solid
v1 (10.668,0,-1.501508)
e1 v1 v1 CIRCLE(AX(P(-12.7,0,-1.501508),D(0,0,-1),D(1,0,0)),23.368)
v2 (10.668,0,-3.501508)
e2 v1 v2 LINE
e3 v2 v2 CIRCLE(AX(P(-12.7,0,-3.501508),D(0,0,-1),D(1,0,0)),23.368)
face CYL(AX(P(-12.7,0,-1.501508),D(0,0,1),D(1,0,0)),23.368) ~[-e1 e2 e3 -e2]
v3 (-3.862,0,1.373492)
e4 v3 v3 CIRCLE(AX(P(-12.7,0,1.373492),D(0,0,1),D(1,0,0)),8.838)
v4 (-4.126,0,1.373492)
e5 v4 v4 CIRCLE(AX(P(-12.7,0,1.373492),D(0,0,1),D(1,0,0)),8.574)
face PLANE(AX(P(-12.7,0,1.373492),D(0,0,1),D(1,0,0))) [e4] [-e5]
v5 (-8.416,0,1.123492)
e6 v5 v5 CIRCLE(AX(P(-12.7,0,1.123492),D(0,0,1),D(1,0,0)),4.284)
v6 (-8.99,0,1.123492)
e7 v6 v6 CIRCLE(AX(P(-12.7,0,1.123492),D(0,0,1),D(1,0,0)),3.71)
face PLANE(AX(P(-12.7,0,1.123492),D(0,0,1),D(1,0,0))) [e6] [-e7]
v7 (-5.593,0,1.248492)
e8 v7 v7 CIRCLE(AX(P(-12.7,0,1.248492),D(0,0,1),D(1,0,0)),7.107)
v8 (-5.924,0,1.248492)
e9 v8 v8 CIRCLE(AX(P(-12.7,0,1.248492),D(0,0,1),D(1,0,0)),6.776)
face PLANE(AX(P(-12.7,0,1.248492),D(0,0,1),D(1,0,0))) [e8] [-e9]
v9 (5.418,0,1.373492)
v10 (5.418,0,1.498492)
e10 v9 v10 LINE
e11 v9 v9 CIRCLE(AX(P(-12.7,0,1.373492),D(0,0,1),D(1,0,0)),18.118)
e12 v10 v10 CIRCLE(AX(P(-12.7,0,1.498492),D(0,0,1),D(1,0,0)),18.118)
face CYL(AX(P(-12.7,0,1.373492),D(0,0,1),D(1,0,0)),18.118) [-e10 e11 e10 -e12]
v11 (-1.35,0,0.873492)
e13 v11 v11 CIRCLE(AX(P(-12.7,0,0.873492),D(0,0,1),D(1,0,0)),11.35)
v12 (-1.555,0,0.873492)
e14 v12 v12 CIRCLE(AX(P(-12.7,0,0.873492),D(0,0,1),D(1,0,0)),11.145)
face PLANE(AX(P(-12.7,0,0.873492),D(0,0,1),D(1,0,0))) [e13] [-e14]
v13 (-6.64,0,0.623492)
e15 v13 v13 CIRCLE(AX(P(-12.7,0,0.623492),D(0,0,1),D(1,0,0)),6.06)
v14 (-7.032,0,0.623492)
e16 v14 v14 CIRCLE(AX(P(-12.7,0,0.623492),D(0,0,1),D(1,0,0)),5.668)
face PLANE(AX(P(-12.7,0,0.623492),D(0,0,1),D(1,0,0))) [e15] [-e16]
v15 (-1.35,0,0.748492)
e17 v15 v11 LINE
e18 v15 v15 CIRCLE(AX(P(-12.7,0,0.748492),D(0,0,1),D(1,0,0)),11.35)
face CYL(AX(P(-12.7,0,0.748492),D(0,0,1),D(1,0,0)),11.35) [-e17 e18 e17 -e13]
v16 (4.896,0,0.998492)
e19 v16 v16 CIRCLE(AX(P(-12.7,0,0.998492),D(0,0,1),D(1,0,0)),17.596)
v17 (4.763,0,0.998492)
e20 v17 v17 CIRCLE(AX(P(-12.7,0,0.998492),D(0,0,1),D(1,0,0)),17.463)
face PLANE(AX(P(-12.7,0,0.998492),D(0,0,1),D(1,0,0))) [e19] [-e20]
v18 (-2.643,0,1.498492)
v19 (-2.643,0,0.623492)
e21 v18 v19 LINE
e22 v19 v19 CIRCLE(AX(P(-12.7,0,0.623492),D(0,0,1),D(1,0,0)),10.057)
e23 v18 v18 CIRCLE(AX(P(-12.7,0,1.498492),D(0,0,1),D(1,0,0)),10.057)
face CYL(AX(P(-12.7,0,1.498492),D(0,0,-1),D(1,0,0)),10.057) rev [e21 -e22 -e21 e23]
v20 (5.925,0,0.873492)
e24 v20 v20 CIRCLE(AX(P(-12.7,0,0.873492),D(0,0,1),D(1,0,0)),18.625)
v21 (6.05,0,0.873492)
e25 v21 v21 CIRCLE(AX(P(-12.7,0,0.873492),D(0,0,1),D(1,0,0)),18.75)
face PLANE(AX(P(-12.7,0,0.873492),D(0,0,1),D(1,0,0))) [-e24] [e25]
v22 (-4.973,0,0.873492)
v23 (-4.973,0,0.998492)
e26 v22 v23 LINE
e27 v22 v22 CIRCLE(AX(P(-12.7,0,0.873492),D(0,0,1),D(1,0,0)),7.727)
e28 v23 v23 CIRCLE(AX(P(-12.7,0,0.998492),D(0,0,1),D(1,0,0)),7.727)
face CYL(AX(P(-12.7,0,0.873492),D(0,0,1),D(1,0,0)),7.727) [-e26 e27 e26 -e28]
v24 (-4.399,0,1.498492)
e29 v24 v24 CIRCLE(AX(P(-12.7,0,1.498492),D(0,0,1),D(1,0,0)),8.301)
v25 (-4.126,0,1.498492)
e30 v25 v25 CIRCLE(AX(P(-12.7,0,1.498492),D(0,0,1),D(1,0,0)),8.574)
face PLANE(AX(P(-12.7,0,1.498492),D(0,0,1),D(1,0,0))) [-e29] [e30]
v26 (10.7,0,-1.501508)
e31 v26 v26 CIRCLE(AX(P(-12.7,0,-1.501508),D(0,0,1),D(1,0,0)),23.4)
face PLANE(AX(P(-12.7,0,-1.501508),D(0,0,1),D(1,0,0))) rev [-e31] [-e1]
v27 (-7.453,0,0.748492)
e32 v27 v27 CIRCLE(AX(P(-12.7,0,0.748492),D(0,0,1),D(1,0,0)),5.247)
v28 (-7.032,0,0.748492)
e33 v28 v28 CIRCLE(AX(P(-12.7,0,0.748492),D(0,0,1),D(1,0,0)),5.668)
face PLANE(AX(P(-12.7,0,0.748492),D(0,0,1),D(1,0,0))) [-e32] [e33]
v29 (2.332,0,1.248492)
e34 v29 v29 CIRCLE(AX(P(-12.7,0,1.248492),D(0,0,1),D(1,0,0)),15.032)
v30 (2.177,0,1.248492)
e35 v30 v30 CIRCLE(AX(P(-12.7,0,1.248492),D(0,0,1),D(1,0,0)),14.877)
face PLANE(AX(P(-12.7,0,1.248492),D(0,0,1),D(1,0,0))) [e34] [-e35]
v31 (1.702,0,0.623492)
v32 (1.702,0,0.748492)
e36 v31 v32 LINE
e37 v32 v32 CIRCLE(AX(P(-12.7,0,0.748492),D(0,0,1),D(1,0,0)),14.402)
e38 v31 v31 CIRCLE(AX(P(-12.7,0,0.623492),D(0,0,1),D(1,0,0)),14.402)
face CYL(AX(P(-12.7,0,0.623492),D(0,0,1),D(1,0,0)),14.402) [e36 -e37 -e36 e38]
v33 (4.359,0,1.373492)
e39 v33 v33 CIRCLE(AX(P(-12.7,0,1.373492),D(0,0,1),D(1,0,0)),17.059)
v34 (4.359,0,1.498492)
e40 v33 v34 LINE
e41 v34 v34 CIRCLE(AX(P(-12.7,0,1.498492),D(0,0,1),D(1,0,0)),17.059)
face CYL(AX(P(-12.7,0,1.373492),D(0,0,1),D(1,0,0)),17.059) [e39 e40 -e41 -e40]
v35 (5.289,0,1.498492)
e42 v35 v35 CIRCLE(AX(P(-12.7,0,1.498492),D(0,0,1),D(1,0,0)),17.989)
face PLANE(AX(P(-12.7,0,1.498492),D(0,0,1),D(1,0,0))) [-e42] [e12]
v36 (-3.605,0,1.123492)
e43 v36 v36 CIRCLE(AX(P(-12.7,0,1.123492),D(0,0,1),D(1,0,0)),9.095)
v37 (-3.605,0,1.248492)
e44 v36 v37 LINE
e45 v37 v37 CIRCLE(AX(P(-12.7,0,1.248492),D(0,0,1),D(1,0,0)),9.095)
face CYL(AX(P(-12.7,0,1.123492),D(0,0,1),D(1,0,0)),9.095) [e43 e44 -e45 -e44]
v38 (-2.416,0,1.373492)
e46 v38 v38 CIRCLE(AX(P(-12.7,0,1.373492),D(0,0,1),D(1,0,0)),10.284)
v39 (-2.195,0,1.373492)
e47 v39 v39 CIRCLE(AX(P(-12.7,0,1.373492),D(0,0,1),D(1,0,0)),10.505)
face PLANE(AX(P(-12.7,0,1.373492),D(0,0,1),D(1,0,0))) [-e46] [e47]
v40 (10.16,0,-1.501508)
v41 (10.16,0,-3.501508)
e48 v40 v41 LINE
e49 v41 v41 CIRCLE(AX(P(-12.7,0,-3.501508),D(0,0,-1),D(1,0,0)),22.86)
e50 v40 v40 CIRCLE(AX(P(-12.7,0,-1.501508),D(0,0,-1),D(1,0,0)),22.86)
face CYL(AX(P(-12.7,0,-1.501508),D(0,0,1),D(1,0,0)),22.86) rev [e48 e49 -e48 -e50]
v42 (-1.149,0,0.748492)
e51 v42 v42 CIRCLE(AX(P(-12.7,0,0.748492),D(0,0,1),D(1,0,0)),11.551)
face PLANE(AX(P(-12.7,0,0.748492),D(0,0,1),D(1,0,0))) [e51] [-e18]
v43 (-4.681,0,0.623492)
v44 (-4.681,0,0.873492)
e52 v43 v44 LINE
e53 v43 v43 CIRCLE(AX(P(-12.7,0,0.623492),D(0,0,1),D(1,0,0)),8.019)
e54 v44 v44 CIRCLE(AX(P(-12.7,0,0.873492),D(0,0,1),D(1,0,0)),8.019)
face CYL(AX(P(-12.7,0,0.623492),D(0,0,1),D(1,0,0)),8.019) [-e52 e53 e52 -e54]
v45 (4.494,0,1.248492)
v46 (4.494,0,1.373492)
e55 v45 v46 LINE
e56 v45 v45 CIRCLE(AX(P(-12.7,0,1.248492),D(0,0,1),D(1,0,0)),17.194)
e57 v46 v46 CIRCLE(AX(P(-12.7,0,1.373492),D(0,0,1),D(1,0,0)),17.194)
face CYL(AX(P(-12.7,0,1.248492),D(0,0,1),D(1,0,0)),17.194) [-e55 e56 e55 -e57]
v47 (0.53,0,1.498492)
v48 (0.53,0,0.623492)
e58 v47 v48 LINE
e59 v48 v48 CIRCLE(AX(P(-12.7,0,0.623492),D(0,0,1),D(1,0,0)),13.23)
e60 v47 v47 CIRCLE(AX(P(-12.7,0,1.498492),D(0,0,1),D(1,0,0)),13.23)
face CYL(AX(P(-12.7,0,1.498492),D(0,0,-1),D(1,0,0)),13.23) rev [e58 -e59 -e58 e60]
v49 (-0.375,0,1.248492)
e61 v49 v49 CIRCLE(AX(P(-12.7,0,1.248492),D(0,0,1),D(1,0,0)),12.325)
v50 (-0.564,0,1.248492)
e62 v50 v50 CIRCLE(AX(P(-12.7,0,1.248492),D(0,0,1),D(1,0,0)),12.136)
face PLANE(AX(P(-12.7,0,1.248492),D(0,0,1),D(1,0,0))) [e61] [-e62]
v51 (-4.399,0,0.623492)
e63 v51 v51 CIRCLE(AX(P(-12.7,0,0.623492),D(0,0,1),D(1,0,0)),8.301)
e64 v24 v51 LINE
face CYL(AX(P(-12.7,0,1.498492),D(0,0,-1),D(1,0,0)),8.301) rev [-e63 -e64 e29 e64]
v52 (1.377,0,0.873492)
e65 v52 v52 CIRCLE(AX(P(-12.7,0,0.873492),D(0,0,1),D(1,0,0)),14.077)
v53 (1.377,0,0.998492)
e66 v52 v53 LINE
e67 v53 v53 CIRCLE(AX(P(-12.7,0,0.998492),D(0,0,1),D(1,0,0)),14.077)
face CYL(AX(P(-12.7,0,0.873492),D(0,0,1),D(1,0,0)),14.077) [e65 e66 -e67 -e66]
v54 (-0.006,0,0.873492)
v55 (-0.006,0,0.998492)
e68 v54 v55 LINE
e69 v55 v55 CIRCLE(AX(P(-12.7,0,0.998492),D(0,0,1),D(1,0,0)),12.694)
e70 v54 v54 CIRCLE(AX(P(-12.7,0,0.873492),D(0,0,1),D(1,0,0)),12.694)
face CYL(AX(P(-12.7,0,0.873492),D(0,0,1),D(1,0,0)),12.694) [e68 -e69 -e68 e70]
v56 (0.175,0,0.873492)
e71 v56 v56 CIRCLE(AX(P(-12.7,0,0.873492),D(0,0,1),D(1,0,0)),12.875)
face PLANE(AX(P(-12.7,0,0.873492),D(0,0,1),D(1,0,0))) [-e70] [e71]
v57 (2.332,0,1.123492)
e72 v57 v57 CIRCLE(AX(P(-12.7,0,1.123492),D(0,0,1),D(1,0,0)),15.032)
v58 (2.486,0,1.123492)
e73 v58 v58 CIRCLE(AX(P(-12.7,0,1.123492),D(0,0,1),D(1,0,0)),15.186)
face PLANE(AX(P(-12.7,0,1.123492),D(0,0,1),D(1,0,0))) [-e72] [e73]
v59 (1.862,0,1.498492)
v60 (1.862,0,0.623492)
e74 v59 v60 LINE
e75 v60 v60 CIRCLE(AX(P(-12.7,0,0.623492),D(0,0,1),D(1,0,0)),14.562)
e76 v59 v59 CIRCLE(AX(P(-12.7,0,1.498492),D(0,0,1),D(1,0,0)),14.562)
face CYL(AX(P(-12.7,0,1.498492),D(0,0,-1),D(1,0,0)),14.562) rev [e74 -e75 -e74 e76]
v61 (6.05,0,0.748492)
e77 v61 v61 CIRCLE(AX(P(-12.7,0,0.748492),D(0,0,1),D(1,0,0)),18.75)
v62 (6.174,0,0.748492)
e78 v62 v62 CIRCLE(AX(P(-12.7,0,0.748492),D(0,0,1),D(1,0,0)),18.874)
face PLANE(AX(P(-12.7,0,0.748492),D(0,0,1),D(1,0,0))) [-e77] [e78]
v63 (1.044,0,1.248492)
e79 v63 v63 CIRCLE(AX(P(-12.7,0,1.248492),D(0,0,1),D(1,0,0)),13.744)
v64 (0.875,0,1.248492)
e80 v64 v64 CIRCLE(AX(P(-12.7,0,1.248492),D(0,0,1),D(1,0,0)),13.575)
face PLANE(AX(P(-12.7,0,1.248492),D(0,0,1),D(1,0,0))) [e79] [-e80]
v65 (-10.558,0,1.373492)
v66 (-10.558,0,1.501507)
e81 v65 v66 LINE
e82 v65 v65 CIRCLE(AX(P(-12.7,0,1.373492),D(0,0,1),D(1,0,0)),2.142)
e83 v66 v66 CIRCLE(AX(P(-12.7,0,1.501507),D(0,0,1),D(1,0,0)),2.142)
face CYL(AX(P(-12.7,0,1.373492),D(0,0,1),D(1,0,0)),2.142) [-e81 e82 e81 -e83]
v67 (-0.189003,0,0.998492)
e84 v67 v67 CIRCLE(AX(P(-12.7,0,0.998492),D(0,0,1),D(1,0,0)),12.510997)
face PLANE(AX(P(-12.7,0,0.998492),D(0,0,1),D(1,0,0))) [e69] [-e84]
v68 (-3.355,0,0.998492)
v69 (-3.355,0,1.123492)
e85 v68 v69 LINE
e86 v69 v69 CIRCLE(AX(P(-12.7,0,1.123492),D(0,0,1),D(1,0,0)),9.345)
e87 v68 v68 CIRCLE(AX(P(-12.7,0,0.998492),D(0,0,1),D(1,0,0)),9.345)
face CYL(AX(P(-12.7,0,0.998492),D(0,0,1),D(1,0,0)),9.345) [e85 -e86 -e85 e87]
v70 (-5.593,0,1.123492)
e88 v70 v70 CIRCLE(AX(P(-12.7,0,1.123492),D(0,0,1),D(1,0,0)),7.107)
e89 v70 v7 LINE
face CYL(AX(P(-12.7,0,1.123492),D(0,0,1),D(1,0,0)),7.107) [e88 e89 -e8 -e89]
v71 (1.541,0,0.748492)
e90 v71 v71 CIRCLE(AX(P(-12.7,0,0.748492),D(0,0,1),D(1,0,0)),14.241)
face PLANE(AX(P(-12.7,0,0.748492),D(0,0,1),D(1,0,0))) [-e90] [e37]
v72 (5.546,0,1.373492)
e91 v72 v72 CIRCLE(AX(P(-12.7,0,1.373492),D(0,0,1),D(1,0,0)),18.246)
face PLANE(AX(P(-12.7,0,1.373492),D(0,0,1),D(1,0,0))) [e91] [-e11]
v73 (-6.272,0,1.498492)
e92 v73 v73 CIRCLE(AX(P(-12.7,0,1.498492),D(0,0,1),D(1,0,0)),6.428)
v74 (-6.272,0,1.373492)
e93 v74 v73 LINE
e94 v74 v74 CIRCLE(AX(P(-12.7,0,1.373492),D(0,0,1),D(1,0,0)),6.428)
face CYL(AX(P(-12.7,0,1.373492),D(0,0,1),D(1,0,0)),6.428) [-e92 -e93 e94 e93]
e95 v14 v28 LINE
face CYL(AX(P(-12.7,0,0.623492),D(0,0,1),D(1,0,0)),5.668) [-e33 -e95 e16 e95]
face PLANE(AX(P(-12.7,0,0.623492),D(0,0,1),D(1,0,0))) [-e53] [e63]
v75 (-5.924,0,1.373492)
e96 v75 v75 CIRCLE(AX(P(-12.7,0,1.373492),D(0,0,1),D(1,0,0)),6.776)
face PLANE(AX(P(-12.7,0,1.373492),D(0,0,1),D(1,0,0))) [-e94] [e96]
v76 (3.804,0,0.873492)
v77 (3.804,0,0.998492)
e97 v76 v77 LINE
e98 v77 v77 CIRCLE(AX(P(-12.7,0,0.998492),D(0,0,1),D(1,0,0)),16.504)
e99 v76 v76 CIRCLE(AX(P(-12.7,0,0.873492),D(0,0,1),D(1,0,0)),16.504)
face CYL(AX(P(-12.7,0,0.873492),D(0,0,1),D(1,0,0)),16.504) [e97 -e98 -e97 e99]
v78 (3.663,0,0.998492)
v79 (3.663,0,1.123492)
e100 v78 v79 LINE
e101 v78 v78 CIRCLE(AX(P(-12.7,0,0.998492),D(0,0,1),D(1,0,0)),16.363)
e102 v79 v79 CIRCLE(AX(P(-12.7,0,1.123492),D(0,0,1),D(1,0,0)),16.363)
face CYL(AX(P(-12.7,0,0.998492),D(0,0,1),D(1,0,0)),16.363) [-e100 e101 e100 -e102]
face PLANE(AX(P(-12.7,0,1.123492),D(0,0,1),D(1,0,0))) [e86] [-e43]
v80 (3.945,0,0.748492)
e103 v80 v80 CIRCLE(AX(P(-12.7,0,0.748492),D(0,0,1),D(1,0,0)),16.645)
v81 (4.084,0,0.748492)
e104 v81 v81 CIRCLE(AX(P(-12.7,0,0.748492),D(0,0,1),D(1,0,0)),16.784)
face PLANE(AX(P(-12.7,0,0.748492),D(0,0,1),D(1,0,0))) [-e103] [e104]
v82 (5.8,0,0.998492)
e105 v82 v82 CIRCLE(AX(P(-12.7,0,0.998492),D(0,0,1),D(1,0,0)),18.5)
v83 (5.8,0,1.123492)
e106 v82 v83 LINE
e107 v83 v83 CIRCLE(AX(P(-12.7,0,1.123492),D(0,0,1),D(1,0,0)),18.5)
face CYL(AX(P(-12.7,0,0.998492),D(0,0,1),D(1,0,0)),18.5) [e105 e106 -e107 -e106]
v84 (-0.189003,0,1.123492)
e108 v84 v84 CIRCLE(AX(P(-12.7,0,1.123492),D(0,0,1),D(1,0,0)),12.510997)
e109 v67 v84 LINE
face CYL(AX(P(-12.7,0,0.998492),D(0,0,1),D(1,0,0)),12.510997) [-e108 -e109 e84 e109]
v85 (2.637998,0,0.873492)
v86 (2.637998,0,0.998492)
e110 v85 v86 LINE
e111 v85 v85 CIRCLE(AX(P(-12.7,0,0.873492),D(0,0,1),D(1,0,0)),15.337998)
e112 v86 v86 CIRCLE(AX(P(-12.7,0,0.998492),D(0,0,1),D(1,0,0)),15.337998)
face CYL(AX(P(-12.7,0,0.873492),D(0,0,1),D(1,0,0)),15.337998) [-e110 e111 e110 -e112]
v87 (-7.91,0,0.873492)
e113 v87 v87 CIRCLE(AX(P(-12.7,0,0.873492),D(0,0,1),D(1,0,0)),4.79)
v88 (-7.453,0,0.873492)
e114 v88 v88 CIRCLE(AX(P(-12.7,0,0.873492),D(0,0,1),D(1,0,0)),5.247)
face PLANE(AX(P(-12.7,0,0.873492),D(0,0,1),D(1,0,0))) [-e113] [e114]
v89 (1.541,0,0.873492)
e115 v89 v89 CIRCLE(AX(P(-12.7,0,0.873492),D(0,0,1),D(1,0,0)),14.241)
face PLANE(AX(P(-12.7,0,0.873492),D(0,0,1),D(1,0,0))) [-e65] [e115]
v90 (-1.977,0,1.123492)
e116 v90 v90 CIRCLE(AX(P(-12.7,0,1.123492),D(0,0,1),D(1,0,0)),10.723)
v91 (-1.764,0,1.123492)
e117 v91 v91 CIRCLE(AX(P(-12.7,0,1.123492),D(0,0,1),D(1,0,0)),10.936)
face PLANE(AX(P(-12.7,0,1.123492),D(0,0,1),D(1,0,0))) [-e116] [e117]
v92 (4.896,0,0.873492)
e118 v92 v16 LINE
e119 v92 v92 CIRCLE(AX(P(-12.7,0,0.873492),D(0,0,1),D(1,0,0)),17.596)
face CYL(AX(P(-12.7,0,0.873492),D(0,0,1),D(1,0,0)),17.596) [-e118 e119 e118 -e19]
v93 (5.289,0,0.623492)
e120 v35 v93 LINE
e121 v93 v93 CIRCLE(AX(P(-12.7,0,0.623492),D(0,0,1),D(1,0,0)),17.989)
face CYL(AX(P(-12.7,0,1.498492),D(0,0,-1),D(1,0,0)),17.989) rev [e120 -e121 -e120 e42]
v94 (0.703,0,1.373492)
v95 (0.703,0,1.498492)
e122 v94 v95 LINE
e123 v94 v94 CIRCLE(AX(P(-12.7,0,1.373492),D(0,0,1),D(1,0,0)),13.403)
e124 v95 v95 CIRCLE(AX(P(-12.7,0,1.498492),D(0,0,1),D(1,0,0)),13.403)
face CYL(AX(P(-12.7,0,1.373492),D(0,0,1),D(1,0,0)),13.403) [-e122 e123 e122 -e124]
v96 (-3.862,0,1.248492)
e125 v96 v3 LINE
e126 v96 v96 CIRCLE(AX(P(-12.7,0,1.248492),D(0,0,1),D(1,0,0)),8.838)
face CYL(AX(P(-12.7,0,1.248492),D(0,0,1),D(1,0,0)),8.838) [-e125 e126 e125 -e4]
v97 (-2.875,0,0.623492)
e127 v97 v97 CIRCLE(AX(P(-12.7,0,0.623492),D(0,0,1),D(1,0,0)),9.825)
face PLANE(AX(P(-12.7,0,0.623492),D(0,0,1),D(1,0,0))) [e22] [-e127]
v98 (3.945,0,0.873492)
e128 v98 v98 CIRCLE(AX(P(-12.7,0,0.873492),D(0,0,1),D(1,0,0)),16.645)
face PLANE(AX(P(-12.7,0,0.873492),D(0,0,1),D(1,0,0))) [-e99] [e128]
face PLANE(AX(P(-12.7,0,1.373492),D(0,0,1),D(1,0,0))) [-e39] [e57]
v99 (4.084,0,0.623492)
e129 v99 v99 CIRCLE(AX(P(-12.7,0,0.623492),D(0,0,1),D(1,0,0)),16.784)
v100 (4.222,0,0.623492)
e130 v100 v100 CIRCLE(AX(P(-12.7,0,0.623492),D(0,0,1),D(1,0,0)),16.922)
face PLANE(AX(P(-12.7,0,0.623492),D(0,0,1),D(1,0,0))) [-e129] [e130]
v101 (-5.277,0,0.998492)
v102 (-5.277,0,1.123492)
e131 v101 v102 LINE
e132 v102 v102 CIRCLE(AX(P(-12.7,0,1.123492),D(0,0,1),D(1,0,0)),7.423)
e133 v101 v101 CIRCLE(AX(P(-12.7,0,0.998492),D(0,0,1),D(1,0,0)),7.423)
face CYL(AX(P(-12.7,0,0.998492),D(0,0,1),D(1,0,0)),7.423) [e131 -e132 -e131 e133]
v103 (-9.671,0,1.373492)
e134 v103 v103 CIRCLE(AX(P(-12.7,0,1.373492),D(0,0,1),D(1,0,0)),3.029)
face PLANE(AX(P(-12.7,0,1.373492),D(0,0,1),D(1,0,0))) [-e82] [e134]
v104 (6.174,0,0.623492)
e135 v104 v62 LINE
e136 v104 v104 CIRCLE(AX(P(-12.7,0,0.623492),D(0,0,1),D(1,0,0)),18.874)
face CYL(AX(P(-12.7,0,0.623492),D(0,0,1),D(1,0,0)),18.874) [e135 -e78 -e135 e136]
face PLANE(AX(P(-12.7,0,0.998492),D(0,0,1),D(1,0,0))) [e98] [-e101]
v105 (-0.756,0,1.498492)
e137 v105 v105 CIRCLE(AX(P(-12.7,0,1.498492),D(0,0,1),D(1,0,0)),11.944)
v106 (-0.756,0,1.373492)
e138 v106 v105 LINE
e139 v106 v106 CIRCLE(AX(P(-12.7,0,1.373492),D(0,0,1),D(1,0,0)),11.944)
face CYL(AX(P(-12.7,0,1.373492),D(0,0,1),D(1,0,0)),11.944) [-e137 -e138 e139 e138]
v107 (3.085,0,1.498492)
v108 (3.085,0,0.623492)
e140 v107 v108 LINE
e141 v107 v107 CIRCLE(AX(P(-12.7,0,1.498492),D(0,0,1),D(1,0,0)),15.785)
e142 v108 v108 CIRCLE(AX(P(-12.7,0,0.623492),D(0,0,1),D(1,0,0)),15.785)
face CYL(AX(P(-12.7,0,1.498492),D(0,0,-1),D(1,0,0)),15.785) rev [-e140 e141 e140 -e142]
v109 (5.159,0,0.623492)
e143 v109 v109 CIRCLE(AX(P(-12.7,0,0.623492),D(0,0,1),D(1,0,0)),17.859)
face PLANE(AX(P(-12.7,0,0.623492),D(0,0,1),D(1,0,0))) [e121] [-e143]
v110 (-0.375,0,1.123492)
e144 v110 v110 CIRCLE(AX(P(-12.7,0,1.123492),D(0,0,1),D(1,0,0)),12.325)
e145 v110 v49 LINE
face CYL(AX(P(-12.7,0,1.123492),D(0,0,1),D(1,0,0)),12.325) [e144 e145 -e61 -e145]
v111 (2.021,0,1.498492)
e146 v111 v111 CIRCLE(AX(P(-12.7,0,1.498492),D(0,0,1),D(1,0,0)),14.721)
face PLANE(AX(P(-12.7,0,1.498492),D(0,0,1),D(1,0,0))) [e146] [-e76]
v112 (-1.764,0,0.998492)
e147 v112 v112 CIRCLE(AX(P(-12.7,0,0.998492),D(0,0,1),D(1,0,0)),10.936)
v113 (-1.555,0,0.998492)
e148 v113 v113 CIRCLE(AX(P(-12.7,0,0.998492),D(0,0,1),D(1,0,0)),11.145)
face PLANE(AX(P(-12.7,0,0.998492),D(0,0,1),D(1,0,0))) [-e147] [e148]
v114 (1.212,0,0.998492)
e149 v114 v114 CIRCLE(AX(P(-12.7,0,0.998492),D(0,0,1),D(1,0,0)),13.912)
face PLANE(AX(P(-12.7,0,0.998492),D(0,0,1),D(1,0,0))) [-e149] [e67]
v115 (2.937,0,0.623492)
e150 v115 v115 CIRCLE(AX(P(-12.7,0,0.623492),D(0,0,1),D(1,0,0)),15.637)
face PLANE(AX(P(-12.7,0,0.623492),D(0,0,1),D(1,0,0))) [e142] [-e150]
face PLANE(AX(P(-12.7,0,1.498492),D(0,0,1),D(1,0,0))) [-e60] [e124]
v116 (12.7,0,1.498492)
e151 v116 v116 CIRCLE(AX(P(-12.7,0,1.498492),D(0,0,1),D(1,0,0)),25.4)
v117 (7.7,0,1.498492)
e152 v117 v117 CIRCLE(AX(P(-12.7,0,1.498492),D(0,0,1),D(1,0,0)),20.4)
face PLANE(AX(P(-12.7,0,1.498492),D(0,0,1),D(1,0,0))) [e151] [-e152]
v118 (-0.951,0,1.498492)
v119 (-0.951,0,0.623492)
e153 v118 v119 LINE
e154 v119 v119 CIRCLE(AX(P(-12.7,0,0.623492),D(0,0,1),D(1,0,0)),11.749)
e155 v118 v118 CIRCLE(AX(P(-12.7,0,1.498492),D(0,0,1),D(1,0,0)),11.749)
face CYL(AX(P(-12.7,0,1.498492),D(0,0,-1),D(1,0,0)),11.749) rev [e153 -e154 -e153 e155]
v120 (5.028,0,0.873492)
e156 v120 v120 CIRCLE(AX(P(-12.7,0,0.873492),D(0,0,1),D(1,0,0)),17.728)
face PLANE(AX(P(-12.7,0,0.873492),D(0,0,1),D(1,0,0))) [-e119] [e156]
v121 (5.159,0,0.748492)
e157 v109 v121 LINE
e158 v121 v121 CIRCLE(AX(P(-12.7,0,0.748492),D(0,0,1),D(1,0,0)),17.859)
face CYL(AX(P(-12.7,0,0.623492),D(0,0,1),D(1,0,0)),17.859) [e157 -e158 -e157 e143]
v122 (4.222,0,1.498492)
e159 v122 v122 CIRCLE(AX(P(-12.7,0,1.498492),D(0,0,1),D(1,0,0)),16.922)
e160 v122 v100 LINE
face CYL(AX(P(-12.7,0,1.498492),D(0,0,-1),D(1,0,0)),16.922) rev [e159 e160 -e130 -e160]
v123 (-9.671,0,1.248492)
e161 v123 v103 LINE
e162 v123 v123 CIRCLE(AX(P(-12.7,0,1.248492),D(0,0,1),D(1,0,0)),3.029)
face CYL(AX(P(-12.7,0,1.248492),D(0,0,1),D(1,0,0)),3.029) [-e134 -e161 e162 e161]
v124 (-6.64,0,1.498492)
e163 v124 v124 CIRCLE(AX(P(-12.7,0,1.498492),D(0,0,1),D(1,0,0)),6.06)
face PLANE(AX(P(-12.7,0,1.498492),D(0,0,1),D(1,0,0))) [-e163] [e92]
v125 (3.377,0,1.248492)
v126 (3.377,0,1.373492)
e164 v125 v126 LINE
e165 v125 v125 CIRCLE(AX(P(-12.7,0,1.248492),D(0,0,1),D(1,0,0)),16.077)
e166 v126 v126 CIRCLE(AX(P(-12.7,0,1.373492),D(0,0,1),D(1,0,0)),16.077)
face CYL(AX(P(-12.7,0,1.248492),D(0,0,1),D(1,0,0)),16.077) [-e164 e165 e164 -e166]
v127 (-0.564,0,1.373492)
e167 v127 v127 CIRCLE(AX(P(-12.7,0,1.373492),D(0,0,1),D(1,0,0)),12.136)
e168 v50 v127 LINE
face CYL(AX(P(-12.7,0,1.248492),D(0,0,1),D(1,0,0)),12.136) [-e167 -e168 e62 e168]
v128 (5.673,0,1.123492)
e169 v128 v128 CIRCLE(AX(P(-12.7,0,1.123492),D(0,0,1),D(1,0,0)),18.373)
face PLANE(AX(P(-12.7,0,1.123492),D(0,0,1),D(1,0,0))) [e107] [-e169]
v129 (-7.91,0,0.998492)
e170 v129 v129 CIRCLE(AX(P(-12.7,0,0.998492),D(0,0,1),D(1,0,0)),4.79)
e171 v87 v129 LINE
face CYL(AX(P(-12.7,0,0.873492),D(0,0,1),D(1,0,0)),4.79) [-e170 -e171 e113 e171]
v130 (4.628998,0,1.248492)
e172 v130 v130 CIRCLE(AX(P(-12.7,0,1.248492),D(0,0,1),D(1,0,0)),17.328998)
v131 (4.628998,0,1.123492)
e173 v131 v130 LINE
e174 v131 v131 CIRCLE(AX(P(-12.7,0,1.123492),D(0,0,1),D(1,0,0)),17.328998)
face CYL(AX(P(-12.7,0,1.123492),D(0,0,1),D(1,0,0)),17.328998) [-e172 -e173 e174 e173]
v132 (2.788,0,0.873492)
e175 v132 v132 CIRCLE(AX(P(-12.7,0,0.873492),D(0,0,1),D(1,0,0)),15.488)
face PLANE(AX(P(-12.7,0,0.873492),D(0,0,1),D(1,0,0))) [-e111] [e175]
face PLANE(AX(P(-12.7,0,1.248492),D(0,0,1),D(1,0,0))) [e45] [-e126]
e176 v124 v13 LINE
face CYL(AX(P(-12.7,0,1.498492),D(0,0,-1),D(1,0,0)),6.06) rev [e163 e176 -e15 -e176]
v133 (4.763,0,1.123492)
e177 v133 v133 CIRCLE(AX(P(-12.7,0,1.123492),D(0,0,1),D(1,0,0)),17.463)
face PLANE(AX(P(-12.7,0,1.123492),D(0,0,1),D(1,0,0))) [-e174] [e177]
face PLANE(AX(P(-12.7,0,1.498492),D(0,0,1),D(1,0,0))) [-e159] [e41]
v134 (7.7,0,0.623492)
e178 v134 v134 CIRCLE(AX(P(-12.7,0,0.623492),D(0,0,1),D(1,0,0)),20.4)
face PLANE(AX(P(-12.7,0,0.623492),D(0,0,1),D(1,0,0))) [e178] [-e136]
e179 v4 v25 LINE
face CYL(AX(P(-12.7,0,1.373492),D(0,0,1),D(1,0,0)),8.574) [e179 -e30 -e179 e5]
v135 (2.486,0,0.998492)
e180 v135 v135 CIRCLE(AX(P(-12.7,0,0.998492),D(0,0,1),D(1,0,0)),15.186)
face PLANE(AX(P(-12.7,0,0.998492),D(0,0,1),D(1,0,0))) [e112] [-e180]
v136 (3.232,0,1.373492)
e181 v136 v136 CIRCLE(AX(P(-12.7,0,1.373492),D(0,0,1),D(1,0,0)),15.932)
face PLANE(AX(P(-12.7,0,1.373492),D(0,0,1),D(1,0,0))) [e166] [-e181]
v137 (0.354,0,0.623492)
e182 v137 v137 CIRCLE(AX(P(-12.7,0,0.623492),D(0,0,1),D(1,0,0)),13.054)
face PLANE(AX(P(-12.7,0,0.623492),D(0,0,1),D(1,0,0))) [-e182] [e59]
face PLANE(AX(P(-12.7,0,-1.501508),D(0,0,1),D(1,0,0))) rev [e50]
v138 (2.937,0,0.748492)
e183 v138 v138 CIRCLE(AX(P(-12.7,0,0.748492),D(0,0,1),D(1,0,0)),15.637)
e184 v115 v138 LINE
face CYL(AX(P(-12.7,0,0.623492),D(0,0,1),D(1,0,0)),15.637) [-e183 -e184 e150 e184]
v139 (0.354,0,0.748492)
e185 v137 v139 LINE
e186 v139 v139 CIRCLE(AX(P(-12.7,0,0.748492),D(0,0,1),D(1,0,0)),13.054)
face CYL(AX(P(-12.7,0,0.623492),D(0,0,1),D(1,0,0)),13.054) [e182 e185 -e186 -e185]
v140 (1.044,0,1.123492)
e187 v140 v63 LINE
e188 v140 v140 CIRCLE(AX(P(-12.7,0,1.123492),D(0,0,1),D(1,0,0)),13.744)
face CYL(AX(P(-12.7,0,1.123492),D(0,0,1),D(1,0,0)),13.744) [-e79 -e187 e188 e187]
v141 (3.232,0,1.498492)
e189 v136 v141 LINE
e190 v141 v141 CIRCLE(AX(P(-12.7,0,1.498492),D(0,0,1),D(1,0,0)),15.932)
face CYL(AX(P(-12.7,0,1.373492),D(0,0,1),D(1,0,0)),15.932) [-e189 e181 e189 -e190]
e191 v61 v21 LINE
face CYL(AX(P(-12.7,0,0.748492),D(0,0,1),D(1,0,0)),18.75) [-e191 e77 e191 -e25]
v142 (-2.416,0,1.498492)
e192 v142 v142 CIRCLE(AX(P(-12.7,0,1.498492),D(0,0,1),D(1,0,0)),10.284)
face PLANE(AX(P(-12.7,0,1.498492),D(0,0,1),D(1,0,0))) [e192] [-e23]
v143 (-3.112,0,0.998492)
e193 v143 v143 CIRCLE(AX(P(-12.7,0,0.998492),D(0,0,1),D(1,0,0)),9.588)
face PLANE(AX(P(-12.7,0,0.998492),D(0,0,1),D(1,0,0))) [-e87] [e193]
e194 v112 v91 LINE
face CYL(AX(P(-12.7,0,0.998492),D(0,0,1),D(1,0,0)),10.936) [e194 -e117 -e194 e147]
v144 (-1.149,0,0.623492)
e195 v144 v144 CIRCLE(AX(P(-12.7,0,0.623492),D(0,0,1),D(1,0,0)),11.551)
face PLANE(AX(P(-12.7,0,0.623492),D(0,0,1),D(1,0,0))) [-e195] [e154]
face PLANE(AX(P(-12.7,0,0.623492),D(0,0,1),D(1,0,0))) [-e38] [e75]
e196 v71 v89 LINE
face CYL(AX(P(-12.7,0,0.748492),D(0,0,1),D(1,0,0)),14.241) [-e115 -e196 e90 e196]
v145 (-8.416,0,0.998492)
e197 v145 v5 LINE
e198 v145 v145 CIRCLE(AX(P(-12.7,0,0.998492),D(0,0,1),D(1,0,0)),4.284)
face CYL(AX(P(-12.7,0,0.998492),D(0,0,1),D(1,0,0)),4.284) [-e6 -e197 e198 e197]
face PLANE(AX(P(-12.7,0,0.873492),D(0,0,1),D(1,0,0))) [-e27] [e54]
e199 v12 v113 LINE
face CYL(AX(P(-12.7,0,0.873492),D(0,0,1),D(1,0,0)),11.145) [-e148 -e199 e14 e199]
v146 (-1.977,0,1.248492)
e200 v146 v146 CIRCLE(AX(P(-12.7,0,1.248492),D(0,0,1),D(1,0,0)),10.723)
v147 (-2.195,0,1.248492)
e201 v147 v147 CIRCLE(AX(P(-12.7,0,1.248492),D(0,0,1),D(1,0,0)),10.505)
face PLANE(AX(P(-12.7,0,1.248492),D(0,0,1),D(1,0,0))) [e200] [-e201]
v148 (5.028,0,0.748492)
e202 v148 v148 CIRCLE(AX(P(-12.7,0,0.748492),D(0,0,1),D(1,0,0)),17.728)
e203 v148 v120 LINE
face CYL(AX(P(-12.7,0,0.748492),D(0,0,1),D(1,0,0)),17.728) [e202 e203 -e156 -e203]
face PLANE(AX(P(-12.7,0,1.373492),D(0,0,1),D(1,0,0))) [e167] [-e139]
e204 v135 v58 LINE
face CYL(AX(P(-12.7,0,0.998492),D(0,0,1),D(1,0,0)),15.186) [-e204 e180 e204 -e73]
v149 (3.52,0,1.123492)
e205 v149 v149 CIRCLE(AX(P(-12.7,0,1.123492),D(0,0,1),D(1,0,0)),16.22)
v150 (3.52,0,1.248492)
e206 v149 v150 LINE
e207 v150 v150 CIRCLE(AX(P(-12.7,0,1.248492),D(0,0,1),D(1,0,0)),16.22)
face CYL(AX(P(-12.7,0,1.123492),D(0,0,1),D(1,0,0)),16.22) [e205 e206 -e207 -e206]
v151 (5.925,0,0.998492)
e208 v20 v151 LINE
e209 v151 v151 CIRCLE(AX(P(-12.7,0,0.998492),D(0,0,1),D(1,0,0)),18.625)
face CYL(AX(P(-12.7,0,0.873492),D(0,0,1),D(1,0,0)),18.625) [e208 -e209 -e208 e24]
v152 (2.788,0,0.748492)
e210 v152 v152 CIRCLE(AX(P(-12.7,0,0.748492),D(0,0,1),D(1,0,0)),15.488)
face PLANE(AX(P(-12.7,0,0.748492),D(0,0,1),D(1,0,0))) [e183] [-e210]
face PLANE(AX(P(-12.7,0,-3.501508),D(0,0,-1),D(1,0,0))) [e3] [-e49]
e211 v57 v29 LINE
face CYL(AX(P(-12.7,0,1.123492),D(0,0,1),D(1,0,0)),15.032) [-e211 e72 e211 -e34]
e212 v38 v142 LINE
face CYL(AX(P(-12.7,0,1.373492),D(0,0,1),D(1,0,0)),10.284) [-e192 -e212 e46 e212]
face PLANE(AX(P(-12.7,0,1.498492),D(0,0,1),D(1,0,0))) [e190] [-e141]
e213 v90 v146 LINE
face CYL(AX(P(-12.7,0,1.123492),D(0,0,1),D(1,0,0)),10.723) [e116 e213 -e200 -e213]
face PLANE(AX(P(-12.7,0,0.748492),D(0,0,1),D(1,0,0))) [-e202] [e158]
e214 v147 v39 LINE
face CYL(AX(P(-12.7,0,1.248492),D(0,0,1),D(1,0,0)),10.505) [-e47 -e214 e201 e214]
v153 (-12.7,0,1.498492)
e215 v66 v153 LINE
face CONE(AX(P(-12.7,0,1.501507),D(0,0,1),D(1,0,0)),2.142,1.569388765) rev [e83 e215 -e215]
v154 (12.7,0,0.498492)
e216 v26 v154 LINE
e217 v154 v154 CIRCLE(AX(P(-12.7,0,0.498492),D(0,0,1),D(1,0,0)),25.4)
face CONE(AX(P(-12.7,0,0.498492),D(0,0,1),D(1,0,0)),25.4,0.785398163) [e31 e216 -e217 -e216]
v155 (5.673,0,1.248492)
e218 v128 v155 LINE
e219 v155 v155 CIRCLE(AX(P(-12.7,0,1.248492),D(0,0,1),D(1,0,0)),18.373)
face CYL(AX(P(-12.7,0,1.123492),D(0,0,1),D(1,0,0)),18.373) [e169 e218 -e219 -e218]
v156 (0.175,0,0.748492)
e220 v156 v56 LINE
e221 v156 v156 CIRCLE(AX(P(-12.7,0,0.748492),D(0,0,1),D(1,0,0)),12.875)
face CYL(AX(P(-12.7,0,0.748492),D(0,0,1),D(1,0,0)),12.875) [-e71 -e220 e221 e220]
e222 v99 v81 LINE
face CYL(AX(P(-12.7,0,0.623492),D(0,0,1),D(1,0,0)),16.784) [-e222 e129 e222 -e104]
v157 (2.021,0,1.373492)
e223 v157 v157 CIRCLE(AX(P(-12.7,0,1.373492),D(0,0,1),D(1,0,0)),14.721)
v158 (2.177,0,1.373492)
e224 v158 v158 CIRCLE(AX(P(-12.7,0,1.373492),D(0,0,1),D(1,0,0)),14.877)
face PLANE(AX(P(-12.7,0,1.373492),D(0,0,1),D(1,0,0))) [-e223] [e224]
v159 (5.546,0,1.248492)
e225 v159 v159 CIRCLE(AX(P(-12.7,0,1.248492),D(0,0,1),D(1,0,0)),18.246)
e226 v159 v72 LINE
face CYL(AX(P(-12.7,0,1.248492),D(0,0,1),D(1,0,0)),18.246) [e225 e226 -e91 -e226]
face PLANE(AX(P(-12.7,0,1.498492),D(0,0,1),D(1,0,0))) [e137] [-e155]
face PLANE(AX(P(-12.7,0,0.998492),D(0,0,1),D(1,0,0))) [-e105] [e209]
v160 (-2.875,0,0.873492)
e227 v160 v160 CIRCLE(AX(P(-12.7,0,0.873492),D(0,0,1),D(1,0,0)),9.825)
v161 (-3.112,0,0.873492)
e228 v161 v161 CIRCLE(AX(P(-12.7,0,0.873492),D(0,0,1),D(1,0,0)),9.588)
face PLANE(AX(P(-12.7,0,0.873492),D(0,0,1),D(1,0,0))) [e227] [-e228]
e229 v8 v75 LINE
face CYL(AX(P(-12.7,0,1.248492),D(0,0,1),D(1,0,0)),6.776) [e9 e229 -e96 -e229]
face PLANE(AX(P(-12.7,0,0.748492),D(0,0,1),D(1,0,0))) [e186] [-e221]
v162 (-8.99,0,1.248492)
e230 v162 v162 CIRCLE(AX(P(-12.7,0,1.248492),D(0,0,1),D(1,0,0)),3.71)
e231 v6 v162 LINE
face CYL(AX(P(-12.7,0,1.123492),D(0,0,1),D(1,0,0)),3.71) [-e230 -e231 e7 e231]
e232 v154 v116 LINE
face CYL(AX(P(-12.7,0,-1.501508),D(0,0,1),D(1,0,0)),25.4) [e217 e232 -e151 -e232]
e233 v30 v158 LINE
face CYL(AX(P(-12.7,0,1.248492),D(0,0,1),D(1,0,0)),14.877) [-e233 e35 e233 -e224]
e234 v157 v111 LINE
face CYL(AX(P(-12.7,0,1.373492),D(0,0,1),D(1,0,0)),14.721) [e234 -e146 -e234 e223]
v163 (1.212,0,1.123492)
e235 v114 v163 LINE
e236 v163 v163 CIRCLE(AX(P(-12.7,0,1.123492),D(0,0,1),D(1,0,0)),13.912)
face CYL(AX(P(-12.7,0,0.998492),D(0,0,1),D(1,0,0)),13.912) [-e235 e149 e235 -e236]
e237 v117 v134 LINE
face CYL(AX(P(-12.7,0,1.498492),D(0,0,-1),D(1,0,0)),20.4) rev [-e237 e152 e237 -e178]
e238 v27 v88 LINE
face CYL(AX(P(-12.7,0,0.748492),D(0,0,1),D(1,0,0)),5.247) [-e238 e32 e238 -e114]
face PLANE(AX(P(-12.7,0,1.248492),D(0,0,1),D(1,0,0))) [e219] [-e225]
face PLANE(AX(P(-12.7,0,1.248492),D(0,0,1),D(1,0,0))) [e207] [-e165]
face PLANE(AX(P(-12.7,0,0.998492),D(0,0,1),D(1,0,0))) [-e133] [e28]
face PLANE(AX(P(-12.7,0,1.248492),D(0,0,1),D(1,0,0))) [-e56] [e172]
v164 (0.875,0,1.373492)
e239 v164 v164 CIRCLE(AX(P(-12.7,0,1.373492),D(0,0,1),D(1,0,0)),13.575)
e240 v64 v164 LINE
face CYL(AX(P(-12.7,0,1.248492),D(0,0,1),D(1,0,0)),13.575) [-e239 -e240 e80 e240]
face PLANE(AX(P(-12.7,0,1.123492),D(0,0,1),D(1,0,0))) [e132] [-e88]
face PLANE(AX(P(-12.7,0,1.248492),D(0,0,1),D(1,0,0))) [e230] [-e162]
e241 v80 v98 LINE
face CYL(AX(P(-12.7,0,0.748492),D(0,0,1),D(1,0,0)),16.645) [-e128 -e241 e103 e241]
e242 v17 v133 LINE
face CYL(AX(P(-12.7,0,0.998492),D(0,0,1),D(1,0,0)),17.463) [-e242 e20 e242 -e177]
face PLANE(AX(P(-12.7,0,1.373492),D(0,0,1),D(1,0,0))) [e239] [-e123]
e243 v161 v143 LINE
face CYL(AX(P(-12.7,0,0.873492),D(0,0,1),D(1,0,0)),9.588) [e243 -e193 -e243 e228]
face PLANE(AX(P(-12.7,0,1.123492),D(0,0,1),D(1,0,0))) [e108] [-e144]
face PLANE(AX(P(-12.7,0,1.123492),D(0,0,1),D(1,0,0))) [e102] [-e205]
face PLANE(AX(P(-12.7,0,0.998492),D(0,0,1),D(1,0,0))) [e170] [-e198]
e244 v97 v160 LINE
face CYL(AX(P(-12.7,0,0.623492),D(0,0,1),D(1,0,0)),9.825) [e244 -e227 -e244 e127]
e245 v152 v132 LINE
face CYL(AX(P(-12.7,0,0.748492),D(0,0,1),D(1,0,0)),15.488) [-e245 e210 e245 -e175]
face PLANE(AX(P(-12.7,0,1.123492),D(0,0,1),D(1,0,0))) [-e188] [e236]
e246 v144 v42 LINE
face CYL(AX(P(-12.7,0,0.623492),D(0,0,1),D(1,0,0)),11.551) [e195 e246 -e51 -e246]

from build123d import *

# Parameters (mm, degrees)
F2_SIZE  = 2
F3_R     = 23.368
F3_R_2   = 22.86
F4_DEPTH = 2


with BuildPart() as f1:
    # F0 (on Front) → F1 (revolve)
    with BuildSketch(Plane.XZ):
        Polygon((-10.558, 1.373492), (-10.558, 1.501507), (-12.7, 1.498492), (-12.7, -1.501508), (12.7, -1.501508), (12.7, 1.498492), (7.7, 1.498492), (7.7, 0.623492), (6.174, 0.623492), (6.174, 0.748492), (6.05, 0.748492), (6.05, 0.873492), (5.925, 0.873492), (5.925, 0.998492), (5.8, 0.998492), (5.8, 1.123492), (5.673, 1.123492), (5.673, 1.248492), (5.546, 1.248492), (5.546, 1.373492), (5.418, 1.373492), (5.418, 1.498492), (5.289, 1.498492), (5.289, 0.623492), (5.159, 0.623492), (5.159, 0.748492), (5.028, 0.748492), (5.028, 0.873492), (4.896, 0.873492), (4.896, 0.998492), (4.763, 0.998492), (4.763, 1.123492), (4.628998, 1.123492), (4.628998, 1.248492), (4.494, 1.248492), (4.494, 1.373492), (4.359, 1.373492), (4.359, 1.498492), (4.222, 1.498492), (4.222, 0.623492), (4.084, 0.623492), (4.084, 0.748492), (3.945, 0.748492), (3.945, 0.873492), (3.804, 0.873492), (3.804, 0.998492), (3.663, 0.998492), (3.663, 1.123492), (3.52, 1.123492), (3.52, 1.248492), (3.377, 1.248492), (3.377, 1.373492), (3.232, 1.373492), (3.232, 1.498492), (3.085, 1.498492), (3.085, 0.623492), (2.937, 0.623492), (2.937, 0.748492), (2.788, 0.748492), (2.788, 0.873492), (2.637998, 0.873492), (2.637998, 0.998492), (2.486, 0.998492), (2.486, 1.123492), (2.332, 1.123492), (2.332, 1.248492), (2.177, 1.248492), (2.177, 1.373492), (2.021, 1.373492), (2.021, 1.498492), (1.862, 1.498492), (1.862, 0.623492), (1.702, 0.623492), (1.702, 0.748492), (1.541, 0.748492), (1.541, 0.873492), (1.377, 0.873492), (1.377, 0.998492), (1.212, 0.998492), (1.212, 1.123492), (1.044, 1.123492), (1.044, 1.248492), (0.875, 1.248492), (0.875, 1.373492), (0.703, 1.373492), (0.703, 1.498492), (0.53, 1.498492), (0.53, 0.623492), (0.354, 0.623492), (0.354, 0.748492), (0.175, 0.748492), (0.175, 0.873492), (-0.006, 0.873492), (-0.006, 0.998492), (-0.189003, 0.998492), (-0.189003, 1.123492), (-0.375, 1.123492), (-0.375, 1.248492), (-0.564, 1.248492), (-0.564, 1.373492), (-0.756, 1.373492), (-0.756, 1.498492), (-0.951, 1.498492), (-0.951, 0.623492), (-1.149, 0.623492), (-1.149, 0.748492), (-1.35, 0.748492), (-1.35, 0.873492), (-1.555, 0.873492), (-1.555, 0.998492), (-1.764, 0.998492), (-1.764, 1.123492), (-1.977, 1.123492), (-1.977, 1.248492), (-2.195, 1.248492), (-2.195, 1.373492), (-2.416, 1.373492), (-2.416, 1.498492), (-2.643, 1.498492), (-2.643, 0.623492), (-2.875, 0.623492), (-2.875, 0.873492), (-3.112, 0.873492), (-3.112, 0.998492), (-3.355, 0.998492), (-3.355, 1.123492), (-3.605, 1.123492), (-3.605, 1.248492), (-3.862, 1.248492), (-3.862, 1.373492), (-4.126, 1.373492), (-4.126, 1.498492), (-4.399, 1.498492), (-4.399, 0.623492), (-4.681, 0.623492), (-4.681, 0.873492), (-4.973, 0.873492), (-4.973, 0.998492), (-5.277, 0.998492), (-5.277, 1.123492), (-5.593, 1.123492), (-5.593, 1.248492), (-5.924, 1.248492), (-5.924, 1.373492), (-6.272, 1.373492), (-6.272, 1.498492), (-6.64, 1.498492), (-6.64, 0.623492), (-7.032, 0.623492), (-7.032, 0.748492), (-7.453, 0.748492), (-7.453, 0.873492), (-7.91, 0.873492), (-7.91, 0.998492), (-8.416, 0.998492), (-8.416, 1.123492), (-8.99, 1.123492), (-8.99, 1.248492), (-9.671, 1.248492), (-9.671, 1.373492), align=None)
    revolve(axis=Axis((-12.7, 0, -0.001508), (0, 0, 1)))

    # F2
    f2_edges = [f1.edges().sort_by_distance(p)[0] for p in [
        (-38.1, 0, -1.501508),
    ]]
    chamfer(f2_edges, length=F2_SIZE)

    # F3 (on face) → F4 (join)
    with BuildSketch(Plane(origin=(0, 0, -1.501508), x_dir=(1, 0, 0), z_dir=(0, 0, -1))):
        with Locations((-12.7, 0)):
            Circle(F3_R)
        with Locations((-12.7, 0)):
            Circle(F3_R_2, mode=Mode.SUBTRACT)
    extrude(amount=F4_DEPTH)


solid = f1.part
